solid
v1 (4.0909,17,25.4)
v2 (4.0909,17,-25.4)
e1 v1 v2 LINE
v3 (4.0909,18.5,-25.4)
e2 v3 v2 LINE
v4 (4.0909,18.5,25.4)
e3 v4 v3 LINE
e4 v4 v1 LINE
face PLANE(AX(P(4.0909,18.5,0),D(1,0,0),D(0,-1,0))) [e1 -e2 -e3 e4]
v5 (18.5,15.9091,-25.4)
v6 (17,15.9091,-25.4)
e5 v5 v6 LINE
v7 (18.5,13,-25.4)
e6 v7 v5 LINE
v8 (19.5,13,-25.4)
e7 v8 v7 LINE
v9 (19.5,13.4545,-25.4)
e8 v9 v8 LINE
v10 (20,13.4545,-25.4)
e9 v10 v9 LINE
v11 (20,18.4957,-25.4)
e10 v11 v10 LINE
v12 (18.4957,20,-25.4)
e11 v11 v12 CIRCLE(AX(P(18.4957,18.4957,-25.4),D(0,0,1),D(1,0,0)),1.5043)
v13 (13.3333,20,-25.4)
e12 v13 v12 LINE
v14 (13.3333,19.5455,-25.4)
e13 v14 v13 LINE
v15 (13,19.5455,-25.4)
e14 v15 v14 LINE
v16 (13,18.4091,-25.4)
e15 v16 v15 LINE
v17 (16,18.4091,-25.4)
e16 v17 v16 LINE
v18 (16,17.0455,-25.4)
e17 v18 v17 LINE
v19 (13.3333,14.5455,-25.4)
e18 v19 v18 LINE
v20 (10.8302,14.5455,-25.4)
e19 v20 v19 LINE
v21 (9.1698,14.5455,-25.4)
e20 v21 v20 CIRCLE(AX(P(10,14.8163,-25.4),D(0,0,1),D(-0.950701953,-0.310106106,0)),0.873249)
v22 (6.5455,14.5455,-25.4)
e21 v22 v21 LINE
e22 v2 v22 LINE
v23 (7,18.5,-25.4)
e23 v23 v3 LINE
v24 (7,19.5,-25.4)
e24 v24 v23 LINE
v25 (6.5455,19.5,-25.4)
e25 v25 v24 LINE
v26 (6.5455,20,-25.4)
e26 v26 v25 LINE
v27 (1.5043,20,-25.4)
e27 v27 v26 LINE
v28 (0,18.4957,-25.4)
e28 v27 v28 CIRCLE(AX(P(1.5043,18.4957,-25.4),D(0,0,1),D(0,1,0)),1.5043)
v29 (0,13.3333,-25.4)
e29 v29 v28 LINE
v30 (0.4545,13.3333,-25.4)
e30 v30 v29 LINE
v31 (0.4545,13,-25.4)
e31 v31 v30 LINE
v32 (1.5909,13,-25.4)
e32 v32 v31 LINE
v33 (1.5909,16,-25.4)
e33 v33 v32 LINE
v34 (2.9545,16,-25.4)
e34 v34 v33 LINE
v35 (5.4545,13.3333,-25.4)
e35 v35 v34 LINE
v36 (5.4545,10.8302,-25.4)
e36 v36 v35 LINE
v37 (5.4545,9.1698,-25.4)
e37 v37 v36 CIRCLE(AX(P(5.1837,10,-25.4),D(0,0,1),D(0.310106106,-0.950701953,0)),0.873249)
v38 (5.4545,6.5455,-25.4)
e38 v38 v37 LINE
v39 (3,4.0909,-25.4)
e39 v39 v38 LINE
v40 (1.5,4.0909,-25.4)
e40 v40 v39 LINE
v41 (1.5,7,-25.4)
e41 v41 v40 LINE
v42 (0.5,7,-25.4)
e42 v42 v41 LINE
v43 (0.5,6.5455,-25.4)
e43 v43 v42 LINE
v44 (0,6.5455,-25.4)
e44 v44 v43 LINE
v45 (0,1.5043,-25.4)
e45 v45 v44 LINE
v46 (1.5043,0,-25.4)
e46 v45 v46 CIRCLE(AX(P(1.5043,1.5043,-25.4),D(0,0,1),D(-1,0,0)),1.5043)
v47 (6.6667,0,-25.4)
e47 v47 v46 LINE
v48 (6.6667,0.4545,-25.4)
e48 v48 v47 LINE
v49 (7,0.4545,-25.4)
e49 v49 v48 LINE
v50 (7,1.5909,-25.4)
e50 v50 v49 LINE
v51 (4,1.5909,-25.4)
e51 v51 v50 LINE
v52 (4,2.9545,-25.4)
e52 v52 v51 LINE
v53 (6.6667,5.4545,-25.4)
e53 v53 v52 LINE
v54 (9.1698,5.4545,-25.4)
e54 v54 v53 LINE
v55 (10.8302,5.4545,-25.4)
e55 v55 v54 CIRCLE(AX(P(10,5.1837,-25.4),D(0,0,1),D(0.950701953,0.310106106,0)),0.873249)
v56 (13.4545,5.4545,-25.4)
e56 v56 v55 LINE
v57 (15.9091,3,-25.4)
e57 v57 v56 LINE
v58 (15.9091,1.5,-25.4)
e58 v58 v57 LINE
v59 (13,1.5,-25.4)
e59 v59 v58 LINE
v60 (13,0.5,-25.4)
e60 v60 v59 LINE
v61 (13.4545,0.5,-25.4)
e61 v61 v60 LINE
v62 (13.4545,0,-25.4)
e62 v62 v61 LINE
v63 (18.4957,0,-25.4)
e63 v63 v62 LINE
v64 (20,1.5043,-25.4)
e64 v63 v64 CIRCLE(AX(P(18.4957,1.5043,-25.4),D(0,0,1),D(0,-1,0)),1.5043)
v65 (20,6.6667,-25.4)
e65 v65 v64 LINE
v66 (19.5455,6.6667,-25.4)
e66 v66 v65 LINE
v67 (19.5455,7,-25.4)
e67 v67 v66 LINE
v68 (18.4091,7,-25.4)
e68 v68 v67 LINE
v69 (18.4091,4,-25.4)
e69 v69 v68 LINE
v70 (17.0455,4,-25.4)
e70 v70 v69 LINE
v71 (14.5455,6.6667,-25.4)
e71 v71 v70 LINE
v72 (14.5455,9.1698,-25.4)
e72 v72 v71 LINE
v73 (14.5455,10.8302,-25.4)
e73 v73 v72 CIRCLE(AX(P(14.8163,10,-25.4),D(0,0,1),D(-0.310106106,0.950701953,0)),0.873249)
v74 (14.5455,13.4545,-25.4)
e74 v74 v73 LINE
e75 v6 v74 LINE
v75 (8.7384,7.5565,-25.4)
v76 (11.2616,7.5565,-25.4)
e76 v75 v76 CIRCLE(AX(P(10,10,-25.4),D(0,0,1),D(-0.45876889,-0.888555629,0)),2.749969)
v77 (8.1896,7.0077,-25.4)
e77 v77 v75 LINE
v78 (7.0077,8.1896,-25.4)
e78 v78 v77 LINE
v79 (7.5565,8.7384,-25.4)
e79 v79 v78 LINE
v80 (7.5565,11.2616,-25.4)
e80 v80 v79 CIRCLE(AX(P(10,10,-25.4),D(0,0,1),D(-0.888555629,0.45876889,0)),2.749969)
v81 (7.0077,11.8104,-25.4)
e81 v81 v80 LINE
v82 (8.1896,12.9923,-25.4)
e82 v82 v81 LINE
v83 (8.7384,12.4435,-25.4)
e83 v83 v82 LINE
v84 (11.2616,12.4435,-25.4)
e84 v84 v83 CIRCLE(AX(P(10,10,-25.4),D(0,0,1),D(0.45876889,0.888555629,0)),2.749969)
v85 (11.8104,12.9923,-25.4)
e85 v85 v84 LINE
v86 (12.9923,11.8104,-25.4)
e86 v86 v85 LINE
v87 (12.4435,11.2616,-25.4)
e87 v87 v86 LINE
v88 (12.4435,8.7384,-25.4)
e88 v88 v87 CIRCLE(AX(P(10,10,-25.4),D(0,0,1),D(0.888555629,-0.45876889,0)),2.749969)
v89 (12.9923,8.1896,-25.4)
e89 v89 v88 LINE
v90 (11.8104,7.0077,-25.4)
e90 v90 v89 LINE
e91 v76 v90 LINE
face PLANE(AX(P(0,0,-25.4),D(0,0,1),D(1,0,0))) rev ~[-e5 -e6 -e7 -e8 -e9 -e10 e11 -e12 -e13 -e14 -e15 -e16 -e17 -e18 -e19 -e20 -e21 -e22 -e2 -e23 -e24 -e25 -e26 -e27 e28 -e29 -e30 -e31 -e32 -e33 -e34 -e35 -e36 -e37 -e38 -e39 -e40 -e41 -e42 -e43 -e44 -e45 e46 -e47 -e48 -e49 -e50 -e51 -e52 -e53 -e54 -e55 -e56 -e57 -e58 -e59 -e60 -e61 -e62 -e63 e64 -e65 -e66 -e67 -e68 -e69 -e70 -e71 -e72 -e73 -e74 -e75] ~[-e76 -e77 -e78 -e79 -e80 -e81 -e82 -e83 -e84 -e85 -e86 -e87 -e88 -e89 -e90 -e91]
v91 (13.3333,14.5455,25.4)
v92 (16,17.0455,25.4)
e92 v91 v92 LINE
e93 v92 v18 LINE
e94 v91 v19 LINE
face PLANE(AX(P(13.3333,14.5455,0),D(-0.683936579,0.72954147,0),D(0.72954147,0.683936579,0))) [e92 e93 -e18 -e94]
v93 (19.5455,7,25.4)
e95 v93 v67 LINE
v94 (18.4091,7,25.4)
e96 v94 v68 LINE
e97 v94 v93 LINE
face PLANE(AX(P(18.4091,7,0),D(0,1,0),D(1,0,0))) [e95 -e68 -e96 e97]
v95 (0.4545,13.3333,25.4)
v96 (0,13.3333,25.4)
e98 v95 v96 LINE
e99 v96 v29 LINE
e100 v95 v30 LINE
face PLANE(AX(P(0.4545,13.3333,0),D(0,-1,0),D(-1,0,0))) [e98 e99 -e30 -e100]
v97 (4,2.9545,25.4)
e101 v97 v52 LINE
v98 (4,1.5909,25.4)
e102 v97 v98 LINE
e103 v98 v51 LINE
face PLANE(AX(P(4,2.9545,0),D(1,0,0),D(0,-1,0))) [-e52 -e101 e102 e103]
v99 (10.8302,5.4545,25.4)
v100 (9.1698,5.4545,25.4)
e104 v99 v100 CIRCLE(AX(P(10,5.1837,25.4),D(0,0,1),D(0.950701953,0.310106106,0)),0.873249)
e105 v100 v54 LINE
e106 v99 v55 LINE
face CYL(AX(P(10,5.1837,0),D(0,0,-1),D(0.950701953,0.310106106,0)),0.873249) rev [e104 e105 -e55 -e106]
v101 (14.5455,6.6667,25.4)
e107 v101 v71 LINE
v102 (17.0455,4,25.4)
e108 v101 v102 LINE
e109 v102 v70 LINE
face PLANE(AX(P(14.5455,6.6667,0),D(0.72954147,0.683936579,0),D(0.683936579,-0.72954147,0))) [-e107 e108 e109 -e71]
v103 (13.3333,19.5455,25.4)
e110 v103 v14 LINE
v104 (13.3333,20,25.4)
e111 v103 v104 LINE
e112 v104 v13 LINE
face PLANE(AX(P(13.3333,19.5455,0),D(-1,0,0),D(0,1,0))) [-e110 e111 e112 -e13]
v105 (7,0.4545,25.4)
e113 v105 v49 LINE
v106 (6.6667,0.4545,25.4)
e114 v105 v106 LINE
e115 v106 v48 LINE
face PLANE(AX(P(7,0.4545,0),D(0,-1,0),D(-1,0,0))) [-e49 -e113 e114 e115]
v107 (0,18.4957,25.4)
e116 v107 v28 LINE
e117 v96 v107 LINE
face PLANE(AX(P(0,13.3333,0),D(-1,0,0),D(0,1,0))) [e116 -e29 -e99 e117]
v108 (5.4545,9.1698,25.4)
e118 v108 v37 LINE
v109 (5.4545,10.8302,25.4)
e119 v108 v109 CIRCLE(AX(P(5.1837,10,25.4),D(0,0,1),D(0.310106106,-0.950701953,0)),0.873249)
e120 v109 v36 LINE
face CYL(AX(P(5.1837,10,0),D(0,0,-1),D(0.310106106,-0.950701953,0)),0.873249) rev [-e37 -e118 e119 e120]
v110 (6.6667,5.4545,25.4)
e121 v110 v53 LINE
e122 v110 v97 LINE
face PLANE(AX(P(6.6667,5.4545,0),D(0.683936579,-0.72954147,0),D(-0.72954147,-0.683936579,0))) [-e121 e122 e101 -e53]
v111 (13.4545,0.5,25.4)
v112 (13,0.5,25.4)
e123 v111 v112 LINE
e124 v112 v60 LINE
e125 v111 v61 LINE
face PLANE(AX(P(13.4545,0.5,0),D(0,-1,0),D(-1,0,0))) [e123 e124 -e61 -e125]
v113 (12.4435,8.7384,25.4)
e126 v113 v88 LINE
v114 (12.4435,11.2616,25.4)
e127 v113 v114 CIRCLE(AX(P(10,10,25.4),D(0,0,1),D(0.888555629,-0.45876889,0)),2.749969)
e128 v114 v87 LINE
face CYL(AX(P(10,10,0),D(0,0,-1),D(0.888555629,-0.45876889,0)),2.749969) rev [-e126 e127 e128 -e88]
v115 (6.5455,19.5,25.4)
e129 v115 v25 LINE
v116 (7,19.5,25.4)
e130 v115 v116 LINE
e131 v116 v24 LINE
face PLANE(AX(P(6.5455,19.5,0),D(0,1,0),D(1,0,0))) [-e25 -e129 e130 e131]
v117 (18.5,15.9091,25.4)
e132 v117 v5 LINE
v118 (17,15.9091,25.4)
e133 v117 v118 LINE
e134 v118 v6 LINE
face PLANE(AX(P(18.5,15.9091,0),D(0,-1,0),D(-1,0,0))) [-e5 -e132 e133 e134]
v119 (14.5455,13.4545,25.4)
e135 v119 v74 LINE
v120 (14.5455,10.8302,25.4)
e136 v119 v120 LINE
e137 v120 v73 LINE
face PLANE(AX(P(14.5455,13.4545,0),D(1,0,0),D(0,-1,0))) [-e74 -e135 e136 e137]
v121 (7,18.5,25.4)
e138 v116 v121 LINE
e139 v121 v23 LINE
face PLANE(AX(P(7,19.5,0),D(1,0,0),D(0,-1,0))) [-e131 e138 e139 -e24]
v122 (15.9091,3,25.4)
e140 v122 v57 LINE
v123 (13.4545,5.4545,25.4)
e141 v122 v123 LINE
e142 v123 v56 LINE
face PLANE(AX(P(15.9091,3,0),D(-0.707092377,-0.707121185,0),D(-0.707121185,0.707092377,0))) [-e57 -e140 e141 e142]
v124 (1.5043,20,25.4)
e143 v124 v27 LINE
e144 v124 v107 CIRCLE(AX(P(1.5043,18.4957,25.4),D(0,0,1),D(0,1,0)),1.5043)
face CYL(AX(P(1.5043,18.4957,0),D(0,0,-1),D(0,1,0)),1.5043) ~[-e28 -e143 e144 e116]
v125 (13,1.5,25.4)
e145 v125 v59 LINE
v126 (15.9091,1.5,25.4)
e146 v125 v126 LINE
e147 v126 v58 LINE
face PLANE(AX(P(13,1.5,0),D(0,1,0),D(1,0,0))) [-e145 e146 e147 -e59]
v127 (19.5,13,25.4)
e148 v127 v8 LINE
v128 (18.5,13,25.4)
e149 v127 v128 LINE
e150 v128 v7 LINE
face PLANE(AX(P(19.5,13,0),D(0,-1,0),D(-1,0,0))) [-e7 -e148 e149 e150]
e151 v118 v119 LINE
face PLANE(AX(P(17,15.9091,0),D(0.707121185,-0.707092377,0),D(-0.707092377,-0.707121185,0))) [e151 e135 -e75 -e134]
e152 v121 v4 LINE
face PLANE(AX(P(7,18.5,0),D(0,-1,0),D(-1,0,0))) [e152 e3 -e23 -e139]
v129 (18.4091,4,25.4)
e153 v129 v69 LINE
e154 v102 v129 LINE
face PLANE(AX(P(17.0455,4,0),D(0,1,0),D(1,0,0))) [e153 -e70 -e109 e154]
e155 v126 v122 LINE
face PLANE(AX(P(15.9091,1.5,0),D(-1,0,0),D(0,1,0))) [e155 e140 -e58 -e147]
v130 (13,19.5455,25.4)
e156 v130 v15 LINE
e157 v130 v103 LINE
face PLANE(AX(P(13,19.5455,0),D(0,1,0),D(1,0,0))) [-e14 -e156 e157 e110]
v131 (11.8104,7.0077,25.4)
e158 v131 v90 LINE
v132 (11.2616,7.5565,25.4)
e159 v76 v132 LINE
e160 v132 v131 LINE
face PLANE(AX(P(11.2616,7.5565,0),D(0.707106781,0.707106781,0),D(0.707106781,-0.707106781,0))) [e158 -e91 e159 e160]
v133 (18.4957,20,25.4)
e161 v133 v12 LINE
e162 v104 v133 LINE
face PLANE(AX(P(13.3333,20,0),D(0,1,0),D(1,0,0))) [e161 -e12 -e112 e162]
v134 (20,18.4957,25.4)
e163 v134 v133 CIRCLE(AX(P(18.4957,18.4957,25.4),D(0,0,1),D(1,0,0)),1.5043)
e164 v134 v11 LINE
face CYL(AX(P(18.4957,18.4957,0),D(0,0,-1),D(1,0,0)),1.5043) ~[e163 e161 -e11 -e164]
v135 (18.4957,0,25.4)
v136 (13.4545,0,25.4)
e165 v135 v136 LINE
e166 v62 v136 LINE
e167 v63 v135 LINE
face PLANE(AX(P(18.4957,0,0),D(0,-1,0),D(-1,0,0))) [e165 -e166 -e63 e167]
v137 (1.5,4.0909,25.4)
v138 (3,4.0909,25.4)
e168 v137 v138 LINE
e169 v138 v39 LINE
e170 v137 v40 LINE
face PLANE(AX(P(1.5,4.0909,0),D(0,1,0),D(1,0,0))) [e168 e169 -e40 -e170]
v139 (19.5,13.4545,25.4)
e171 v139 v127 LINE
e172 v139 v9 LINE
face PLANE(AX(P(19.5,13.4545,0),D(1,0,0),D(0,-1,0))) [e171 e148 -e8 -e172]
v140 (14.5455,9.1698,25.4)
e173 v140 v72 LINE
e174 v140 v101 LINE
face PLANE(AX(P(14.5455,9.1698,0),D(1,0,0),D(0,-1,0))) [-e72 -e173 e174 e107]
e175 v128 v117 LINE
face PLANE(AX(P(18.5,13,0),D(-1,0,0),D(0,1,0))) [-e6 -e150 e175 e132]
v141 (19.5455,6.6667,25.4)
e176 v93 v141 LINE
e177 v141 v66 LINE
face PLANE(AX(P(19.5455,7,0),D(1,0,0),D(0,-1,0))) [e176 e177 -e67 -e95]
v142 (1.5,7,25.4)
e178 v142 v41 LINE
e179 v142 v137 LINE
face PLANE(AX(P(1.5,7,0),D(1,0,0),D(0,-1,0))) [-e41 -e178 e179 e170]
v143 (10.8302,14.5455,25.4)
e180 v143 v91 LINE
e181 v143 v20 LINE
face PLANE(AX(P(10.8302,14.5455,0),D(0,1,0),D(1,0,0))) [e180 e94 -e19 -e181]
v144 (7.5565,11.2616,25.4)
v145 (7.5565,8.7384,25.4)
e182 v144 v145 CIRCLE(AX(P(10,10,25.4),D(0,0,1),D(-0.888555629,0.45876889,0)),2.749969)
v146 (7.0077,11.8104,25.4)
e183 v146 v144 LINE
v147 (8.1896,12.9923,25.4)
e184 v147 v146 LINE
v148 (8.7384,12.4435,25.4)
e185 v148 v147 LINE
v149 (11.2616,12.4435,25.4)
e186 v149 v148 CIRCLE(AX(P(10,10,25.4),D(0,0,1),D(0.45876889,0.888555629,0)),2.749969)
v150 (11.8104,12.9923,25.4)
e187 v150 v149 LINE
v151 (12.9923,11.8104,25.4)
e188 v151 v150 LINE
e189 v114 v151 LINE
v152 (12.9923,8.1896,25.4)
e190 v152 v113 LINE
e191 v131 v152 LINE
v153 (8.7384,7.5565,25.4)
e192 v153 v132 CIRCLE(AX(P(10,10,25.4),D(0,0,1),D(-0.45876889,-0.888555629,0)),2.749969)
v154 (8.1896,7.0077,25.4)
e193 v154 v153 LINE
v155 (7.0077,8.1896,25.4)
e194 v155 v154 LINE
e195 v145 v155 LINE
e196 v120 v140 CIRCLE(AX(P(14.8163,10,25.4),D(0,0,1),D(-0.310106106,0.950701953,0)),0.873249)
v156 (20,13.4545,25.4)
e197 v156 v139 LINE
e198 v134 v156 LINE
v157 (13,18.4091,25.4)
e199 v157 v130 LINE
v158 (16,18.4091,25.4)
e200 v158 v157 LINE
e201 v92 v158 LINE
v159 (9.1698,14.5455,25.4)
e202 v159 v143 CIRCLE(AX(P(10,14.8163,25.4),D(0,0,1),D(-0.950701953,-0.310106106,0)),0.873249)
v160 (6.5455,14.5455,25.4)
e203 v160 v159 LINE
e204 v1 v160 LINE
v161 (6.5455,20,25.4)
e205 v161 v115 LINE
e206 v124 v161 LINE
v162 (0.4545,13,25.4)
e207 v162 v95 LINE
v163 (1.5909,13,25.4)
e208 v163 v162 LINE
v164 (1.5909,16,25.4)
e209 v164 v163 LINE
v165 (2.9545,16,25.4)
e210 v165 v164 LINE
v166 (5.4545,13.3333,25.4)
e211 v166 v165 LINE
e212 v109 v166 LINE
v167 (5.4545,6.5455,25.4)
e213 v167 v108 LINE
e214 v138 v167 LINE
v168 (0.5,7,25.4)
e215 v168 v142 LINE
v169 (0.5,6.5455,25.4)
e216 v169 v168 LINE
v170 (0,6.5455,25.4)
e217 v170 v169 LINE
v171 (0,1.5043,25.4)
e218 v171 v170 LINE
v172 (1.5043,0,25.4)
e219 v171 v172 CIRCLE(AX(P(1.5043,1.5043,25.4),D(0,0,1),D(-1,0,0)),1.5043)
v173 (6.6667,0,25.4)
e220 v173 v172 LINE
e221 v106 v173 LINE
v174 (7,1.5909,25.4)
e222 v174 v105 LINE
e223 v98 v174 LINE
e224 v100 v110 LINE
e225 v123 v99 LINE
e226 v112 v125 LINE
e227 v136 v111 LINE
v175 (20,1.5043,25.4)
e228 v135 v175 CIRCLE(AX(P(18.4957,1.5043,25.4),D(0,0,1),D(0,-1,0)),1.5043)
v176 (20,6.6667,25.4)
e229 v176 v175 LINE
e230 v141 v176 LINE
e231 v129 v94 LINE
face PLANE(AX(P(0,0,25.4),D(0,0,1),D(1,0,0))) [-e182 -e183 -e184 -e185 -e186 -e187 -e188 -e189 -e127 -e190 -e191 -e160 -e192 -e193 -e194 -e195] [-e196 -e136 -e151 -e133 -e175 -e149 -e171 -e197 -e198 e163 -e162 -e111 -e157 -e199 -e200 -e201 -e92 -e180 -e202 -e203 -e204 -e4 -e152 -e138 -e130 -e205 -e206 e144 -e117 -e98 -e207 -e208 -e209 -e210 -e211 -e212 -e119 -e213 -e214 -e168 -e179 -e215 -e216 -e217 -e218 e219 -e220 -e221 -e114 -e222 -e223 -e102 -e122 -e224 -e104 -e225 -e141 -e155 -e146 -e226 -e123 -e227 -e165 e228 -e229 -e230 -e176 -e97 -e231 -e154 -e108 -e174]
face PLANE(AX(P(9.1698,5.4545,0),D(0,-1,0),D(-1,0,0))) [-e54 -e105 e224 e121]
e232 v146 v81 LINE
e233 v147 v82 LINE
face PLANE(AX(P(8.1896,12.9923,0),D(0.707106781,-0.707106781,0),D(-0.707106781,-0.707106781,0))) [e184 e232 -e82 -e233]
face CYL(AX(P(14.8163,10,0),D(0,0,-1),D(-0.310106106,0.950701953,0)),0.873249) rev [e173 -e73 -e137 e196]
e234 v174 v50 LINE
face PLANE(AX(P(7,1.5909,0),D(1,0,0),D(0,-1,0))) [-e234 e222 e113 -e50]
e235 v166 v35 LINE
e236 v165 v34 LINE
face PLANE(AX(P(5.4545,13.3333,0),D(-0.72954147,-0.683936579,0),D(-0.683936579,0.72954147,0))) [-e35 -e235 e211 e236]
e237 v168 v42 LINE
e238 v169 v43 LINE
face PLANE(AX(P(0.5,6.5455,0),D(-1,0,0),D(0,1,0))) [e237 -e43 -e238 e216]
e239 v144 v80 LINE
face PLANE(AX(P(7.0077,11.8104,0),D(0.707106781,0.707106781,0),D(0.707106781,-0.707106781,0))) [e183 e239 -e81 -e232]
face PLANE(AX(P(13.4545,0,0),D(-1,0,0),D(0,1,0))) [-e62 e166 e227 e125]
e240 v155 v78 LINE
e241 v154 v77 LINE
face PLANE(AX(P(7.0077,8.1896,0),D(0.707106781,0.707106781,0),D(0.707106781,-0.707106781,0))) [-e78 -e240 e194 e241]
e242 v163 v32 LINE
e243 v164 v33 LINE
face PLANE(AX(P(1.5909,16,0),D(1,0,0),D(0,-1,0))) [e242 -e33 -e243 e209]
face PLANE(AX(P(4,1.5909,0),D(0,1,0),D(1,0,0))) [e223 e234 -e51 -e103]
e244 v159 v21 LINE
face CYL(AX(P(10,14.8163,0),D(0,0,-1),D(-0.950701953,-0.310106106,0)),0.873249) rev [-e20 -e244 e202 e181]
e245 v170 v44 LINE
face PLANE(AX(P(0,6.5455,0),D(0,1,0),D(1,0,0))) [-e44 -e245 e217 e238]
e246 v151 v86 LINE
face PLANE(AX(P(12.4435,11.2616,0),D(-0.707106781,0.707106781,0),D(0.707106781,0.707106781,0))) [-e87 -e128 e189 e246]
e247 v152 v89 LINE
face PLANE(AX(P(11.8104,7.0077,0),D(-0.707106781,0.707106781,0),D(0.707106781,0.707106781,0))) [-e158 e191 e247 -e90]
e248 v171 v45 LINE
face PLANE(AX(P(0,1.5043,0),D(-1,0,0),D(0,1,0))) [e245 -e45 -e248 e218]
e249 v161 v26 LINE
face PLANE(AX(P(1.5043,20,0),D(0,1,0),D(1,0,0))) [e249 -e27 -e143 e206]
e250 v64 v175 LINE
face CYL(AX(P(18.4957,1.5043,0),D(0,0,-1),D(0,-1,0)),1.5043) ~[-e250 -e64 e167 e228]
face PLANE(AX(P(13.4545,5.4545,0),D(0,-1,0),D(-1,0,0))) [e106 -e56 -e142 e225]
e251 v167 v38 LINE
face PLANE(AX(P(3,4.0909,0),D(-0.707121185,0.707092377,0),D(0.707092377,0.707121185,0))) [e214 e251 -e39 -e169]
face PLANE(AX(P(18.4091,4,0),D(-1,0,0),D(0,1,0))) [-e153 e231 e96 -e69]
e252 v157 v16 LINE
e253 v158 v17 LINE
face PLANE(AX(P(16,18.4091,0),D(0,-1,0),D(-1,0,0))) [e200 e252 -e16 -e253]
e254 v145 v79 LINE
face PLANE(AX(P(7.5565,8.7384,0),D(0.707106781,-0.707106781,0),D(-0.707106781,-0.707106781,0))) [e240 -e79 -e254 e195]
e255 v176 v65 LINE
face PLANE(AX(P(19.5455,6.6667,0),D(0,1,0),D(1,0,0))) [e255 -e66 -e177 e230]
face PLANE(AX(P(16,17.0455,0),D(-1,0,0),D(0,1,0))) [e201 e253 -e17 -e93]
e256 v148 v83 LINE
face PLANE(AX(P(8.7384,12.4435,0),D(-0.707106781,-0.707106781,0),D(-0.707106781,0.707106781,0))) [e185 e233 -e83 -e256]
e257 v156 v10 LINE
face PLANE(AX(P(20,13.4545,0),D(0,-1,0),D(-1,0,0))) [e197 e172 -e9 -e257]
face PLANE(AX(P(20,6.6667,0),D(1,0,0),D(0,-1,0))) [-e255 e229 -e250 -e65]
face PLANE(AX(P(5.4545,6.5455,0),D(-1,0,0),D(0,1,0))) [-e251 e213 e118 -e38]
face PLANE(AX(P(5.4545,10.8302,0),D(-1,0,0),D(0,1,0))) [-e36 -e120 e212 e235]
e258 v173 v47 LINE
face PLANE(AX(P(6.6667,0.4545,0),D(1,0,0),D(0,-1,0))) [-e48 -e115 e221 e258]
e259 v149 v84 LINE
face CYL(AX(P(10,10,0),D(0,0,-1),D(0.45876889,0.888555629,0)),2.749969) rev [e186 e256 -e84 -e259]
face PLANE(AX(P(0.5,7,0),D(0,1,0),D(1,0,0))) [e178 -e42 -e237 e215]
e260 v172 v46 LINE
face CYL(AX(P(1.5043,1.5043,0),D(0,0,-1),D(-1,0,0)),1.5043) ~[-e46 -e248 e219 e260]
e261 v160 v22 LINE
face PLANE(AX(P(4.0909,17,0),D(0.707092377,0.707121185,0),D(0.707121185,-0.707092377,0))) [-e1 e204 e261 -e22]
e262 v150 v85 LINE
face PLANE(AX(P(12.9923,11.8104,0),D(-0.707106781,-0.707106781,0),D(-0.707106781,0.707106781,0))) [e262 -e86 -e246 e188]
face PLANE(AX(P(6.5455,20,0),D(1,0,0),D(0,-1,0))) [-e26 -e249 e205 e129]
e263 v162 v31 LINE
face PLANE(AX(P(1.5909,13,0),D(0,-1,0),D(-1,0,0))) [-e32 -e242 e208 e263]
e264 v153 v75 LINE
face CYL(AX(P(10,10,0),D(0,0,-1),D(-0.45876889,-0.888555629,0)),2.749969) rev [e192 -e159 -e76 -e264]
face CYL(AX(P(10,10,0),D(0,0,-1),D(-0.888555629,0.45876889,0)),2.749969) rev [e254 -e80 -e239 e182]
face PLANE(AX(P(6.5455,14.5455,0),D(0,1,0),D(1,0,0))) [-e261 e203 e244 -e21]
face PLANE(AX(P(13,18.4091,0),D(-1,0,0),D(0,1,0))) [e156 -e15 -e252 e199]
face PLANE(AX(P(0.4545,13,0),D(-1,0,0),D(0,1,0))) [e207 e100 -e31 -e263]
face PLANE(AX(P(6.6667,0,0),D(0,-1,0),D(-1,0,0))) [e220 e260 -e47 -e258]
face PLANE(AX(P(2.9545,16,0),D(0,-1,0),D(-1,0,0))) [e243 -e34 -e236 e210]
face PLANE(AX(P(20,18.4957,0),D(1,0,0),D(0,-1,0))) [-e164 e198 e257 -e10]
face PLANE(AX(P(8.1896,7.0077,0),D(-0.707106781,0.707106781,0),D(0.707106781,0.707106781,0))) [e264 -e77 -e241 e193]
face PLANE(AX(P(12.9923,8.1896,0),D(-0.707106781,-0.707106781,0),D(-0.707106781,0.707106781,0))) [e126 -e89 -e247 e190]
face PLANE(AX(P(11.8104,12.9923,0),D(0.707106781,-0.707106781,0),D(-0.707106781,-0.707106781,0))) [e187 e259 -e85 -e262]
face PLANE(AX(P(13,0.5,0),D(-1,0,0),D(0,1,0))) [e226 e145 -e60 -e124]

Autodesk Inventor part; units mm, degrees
ref_plane "YZ Plane" through (0, 0, 0) normal (1, 0, 0) x (0, 1, 0)
ref_plane "XZ Plane" through (0, 0, 0) normal (0, 1, 0) x (-1, 0, 0)
ref_plane "XY Plane" through (0, 0, 0) normal (0, 0, 1) x (1, 0, 0)
sketch "Sketch1" plane through (0, 0, 0) normal (0, 0, 1) x (1, 0, 0)
  line L0 (11.2616, 7.5565) -> (11.8104, 7.0077)
  line L1 (11.8104, 7.0077) -> (12.9923, 8.1896)
  line L2 (12.9923, 8.1896) -> (12.4435, 8.7384)
  arc A0 (12.4435, 8.7384) -> (12.4435, 11.2616) centre (10, 10) ccw
  line L3 (12.4435, 11.2616) -> (12.9923, 11.8104)
  line L4 (12.9923, 11.8104) -> (11.8104, 12.9923)
  line L5 (11.8104, 12.9923) -> (11.2616, 12.4435)
  arc A1 (11.2616, 12.4435) -> (8.7384, 12.4435) centre (10, 10) ccw
  line L6 (8.7384, 12.4435) -> (8.1896, 12.9923)
  line L7 (8.1896, 12.9923) -> (7.0077, 11.8104)
  line L8 (7.0077, 11.8104) -> (7.5565, 11.2616)
  arc A2 (7.5565, 11.2616) -> (7.5565, 8.7384) centre (10, 10) ccw
  line L9 (7.5565, 8.7384) -> (7.0077, 8.1896)
  line L10 (7.0077, 8.1896) -> (8.1896, 7.0077)
  line L11 (8.1896, 7.0077) -> (8.7384, 7.5565)
  arc A3 (8.7384, 7.5565) -> (11.2616, 7.5565) centre (10, 10) ccw
  line L12 (13.4545, 0) -> (13.4545, 0.5)
  line L13 (13.4545, 0.5) -> (13, 0.5)
  line L14 (13, 0.5) -> (13, 1.5)
  line L15 (13, 1.5) -> (15.9091, 1.5)
  line L16 (15.9091, 1.5) -> (15.9091, 3)
  line L17 (15.9091, 3) -> (13.4545, 5.4545)
  line L18 (13.4545, 5.4545) -> (10.8302, 5.4545)
  arc A4 (10.8302, 5.4545) -> (9.1698, 5.4545) centre (10, 5.1837) ccw
  line L19 (9.1698, 5.4545) -> (6.6667, 5.4545)
  line L20 (6.6667, 5.4545) -> (4, 2.9545)
  line L21 (4, 2.9545) -> (4, 1.5909)
  line L22 (4, 1.5909) -> (7, 1.5909)
  line L23 (7, 1.5909) -> (7, 0.4545)
  line L24 (7, 0.4545) -> (6.6667, 0.4545)
  line L25 (6.6667, 0.4545) -> (6.6667, 0)
  line L26 (6.6667, 0) -> (1.5043, 0)
  arc A5 (0, 1.5043) -> (1.5043, 0) centre (1.5043, 1.5043) ccw
  line L27 (0, 1.5043) -> (0, 6.5455)
  line L28 (0, 6.5455) -> (0.5, 6.5455)
  line L29 (0.5, 6.5455) -> (0.5, 7)
  line L30 (0.5, 7) -> (1.5, 7)
  line L31 (1.5, 7) -> (1.5, 4.0909)
  line L32 (1.5, 4.0909) -> (3, 4.0909)
  line L33 (3, 4.0909) -> (5.4545, 6.5455)
  line L34 (5.4545, 6.5455) -> (5.4545, 9.1698)
  arc A6 (5.4545, 9.1698) -> (5.4545, 10.8302) centre (5.1837, 10) ccw
  line L35 (5.4545, 10.8302) -> (5.4545, 13.3333)
  line L36 (5.4545, 13.3333) -> (2.9545, 16)
  line L37 (2.9545, 16) -> (1.5909, 16)
  line L38 (1.5909, 16) -> (1.5909, 13)
  line L39 (1.5909, 13) -> (0.4545, 13)
  line L40 (0.4545, 13) -> (0.4545, 13.3333)
  line L41 (0.4545, 13.3333) -> (0, 13.3333)
  line L42 (0, 13.3333) -> (0, 18.4957)
  arc A7 (1.5043, 20) -> (0, 18.4957) centre (1.5043, 18.4957) ccw
  line L43 (1.5043, 20) -> (6.5455, 20)
  line L44 (6.5455, 20) -> (6.5455, 19.5)
  line L45 (6.5455, 19.5) -> (7, 19.5)
  line L46 (7, 19.5) -> (7, 18.5)
  line L47 (7, 18.5) -> (4.0909, 18.5)
  line L48 (4.0909, 18.5) -> (4.0909, 17)
  line L49 (4.0909, 17) -> (6.5455, 14.5455)
  line L50 (6.5455, 14.5455) -> (9.1698, 14.5455)
  arc A8 (9.1698, 14.5455) -> (10.8302, 14.5455) centre (10, 14.8163) ccw
  line L51 (10.8302, 14.5455) -> (13.3333, 14.5455)
  line L52 (13.3333, 14.5455) -> (16, 17.0455)
  line L53 (16, 17.0455) -> (16, 18.4091)
  line L54 (16, 18.4091) -> (13, 18.4091)
  line L55 (13, 18.4091) -> (13, 19.5455)
  line L56 (13, 19.5455) -> (13.3333, 19.5455)
  line L57 (13.3333, 19.5455) -> (13.3333, 20)
  line L58 (13.3333, 20) -> (18.4957, 20)
  arc A9 (20, 18.4957) -> (18.4957, 20) centre (18.4957, 18.4957) ccw
  line L59 (20, 18.4957) -> (20, 13.4545)
  line L60 (20, 13.4545) -> (19.5, 13.4545)
  line L61 (19.5, 13.4545) -> (19.5, 13)
  line L62 (19.5, 13) -> (18.5, 13)
  line L63 (18.5, 13) -> (18.5, 15.9091)
  line L64 (18.5, 15.9091) -> (17, 15.9091)
  line L65 (17, 15.9091) -> (14.5455, 13.4545)
  line L66 (14.5455, 13.4545) -> (14.5455, 10.8302)
  arc A10 (14.5455, 10.8302) -> (14.5455, 9.1698) centre (14.8163, 10) ccw
  line L67 (14.5455, 9.1698) -> (14.5455, 6.6667)
  line L68 (14.5455, 6.6667) -> (17.0455, 4)
  line L69 (17.0455, 4) -> (18.4091, 4)
  line L70 (18.4091, 4) -> (18.4091, 7)
  line L71 (18.4091, 7) -> (19.5455, 7)
  line L72 (19.5455, 7) -> (19.5455, 6.6667)
  line L73 (19.5455, 6.6667) -> (20, 6.6667)
  line L74 (20, 6.6667) -> (20, 1.5043)
  arc A11 (18.4957, 0) -> (20, 1.5043) centre (18.4957, 1.5043) ccw
  line L75 (18.4957, 0) -> (13.4545, 0)
  point P0 (0, 0)
  point P1 (0.4406, 0.4406)
  point P2 (10, 0)
  point P3 (10, 0)
  point P4 (10, 0)
  point P5 (19.5594, 0.4406)
  point P6 (0, 10)
  point P7 (0, 10)
  point P8 (0, 10)
  point P9 (10, 10)
  point P10 (20, 10)
  point P11 (20, 10)
  point P12 (20, 10)
  point P13 (0.4406, 19.5594)
  point P14 (10, 20)
  point P15 (10, 20)
  point P16 (10, 20)
  point P17 (19.5594, 19.5594)
extrude "Extrusion1" add sketch "Sketch1" along normal mid plane 50.8
properties part number "vertical"
